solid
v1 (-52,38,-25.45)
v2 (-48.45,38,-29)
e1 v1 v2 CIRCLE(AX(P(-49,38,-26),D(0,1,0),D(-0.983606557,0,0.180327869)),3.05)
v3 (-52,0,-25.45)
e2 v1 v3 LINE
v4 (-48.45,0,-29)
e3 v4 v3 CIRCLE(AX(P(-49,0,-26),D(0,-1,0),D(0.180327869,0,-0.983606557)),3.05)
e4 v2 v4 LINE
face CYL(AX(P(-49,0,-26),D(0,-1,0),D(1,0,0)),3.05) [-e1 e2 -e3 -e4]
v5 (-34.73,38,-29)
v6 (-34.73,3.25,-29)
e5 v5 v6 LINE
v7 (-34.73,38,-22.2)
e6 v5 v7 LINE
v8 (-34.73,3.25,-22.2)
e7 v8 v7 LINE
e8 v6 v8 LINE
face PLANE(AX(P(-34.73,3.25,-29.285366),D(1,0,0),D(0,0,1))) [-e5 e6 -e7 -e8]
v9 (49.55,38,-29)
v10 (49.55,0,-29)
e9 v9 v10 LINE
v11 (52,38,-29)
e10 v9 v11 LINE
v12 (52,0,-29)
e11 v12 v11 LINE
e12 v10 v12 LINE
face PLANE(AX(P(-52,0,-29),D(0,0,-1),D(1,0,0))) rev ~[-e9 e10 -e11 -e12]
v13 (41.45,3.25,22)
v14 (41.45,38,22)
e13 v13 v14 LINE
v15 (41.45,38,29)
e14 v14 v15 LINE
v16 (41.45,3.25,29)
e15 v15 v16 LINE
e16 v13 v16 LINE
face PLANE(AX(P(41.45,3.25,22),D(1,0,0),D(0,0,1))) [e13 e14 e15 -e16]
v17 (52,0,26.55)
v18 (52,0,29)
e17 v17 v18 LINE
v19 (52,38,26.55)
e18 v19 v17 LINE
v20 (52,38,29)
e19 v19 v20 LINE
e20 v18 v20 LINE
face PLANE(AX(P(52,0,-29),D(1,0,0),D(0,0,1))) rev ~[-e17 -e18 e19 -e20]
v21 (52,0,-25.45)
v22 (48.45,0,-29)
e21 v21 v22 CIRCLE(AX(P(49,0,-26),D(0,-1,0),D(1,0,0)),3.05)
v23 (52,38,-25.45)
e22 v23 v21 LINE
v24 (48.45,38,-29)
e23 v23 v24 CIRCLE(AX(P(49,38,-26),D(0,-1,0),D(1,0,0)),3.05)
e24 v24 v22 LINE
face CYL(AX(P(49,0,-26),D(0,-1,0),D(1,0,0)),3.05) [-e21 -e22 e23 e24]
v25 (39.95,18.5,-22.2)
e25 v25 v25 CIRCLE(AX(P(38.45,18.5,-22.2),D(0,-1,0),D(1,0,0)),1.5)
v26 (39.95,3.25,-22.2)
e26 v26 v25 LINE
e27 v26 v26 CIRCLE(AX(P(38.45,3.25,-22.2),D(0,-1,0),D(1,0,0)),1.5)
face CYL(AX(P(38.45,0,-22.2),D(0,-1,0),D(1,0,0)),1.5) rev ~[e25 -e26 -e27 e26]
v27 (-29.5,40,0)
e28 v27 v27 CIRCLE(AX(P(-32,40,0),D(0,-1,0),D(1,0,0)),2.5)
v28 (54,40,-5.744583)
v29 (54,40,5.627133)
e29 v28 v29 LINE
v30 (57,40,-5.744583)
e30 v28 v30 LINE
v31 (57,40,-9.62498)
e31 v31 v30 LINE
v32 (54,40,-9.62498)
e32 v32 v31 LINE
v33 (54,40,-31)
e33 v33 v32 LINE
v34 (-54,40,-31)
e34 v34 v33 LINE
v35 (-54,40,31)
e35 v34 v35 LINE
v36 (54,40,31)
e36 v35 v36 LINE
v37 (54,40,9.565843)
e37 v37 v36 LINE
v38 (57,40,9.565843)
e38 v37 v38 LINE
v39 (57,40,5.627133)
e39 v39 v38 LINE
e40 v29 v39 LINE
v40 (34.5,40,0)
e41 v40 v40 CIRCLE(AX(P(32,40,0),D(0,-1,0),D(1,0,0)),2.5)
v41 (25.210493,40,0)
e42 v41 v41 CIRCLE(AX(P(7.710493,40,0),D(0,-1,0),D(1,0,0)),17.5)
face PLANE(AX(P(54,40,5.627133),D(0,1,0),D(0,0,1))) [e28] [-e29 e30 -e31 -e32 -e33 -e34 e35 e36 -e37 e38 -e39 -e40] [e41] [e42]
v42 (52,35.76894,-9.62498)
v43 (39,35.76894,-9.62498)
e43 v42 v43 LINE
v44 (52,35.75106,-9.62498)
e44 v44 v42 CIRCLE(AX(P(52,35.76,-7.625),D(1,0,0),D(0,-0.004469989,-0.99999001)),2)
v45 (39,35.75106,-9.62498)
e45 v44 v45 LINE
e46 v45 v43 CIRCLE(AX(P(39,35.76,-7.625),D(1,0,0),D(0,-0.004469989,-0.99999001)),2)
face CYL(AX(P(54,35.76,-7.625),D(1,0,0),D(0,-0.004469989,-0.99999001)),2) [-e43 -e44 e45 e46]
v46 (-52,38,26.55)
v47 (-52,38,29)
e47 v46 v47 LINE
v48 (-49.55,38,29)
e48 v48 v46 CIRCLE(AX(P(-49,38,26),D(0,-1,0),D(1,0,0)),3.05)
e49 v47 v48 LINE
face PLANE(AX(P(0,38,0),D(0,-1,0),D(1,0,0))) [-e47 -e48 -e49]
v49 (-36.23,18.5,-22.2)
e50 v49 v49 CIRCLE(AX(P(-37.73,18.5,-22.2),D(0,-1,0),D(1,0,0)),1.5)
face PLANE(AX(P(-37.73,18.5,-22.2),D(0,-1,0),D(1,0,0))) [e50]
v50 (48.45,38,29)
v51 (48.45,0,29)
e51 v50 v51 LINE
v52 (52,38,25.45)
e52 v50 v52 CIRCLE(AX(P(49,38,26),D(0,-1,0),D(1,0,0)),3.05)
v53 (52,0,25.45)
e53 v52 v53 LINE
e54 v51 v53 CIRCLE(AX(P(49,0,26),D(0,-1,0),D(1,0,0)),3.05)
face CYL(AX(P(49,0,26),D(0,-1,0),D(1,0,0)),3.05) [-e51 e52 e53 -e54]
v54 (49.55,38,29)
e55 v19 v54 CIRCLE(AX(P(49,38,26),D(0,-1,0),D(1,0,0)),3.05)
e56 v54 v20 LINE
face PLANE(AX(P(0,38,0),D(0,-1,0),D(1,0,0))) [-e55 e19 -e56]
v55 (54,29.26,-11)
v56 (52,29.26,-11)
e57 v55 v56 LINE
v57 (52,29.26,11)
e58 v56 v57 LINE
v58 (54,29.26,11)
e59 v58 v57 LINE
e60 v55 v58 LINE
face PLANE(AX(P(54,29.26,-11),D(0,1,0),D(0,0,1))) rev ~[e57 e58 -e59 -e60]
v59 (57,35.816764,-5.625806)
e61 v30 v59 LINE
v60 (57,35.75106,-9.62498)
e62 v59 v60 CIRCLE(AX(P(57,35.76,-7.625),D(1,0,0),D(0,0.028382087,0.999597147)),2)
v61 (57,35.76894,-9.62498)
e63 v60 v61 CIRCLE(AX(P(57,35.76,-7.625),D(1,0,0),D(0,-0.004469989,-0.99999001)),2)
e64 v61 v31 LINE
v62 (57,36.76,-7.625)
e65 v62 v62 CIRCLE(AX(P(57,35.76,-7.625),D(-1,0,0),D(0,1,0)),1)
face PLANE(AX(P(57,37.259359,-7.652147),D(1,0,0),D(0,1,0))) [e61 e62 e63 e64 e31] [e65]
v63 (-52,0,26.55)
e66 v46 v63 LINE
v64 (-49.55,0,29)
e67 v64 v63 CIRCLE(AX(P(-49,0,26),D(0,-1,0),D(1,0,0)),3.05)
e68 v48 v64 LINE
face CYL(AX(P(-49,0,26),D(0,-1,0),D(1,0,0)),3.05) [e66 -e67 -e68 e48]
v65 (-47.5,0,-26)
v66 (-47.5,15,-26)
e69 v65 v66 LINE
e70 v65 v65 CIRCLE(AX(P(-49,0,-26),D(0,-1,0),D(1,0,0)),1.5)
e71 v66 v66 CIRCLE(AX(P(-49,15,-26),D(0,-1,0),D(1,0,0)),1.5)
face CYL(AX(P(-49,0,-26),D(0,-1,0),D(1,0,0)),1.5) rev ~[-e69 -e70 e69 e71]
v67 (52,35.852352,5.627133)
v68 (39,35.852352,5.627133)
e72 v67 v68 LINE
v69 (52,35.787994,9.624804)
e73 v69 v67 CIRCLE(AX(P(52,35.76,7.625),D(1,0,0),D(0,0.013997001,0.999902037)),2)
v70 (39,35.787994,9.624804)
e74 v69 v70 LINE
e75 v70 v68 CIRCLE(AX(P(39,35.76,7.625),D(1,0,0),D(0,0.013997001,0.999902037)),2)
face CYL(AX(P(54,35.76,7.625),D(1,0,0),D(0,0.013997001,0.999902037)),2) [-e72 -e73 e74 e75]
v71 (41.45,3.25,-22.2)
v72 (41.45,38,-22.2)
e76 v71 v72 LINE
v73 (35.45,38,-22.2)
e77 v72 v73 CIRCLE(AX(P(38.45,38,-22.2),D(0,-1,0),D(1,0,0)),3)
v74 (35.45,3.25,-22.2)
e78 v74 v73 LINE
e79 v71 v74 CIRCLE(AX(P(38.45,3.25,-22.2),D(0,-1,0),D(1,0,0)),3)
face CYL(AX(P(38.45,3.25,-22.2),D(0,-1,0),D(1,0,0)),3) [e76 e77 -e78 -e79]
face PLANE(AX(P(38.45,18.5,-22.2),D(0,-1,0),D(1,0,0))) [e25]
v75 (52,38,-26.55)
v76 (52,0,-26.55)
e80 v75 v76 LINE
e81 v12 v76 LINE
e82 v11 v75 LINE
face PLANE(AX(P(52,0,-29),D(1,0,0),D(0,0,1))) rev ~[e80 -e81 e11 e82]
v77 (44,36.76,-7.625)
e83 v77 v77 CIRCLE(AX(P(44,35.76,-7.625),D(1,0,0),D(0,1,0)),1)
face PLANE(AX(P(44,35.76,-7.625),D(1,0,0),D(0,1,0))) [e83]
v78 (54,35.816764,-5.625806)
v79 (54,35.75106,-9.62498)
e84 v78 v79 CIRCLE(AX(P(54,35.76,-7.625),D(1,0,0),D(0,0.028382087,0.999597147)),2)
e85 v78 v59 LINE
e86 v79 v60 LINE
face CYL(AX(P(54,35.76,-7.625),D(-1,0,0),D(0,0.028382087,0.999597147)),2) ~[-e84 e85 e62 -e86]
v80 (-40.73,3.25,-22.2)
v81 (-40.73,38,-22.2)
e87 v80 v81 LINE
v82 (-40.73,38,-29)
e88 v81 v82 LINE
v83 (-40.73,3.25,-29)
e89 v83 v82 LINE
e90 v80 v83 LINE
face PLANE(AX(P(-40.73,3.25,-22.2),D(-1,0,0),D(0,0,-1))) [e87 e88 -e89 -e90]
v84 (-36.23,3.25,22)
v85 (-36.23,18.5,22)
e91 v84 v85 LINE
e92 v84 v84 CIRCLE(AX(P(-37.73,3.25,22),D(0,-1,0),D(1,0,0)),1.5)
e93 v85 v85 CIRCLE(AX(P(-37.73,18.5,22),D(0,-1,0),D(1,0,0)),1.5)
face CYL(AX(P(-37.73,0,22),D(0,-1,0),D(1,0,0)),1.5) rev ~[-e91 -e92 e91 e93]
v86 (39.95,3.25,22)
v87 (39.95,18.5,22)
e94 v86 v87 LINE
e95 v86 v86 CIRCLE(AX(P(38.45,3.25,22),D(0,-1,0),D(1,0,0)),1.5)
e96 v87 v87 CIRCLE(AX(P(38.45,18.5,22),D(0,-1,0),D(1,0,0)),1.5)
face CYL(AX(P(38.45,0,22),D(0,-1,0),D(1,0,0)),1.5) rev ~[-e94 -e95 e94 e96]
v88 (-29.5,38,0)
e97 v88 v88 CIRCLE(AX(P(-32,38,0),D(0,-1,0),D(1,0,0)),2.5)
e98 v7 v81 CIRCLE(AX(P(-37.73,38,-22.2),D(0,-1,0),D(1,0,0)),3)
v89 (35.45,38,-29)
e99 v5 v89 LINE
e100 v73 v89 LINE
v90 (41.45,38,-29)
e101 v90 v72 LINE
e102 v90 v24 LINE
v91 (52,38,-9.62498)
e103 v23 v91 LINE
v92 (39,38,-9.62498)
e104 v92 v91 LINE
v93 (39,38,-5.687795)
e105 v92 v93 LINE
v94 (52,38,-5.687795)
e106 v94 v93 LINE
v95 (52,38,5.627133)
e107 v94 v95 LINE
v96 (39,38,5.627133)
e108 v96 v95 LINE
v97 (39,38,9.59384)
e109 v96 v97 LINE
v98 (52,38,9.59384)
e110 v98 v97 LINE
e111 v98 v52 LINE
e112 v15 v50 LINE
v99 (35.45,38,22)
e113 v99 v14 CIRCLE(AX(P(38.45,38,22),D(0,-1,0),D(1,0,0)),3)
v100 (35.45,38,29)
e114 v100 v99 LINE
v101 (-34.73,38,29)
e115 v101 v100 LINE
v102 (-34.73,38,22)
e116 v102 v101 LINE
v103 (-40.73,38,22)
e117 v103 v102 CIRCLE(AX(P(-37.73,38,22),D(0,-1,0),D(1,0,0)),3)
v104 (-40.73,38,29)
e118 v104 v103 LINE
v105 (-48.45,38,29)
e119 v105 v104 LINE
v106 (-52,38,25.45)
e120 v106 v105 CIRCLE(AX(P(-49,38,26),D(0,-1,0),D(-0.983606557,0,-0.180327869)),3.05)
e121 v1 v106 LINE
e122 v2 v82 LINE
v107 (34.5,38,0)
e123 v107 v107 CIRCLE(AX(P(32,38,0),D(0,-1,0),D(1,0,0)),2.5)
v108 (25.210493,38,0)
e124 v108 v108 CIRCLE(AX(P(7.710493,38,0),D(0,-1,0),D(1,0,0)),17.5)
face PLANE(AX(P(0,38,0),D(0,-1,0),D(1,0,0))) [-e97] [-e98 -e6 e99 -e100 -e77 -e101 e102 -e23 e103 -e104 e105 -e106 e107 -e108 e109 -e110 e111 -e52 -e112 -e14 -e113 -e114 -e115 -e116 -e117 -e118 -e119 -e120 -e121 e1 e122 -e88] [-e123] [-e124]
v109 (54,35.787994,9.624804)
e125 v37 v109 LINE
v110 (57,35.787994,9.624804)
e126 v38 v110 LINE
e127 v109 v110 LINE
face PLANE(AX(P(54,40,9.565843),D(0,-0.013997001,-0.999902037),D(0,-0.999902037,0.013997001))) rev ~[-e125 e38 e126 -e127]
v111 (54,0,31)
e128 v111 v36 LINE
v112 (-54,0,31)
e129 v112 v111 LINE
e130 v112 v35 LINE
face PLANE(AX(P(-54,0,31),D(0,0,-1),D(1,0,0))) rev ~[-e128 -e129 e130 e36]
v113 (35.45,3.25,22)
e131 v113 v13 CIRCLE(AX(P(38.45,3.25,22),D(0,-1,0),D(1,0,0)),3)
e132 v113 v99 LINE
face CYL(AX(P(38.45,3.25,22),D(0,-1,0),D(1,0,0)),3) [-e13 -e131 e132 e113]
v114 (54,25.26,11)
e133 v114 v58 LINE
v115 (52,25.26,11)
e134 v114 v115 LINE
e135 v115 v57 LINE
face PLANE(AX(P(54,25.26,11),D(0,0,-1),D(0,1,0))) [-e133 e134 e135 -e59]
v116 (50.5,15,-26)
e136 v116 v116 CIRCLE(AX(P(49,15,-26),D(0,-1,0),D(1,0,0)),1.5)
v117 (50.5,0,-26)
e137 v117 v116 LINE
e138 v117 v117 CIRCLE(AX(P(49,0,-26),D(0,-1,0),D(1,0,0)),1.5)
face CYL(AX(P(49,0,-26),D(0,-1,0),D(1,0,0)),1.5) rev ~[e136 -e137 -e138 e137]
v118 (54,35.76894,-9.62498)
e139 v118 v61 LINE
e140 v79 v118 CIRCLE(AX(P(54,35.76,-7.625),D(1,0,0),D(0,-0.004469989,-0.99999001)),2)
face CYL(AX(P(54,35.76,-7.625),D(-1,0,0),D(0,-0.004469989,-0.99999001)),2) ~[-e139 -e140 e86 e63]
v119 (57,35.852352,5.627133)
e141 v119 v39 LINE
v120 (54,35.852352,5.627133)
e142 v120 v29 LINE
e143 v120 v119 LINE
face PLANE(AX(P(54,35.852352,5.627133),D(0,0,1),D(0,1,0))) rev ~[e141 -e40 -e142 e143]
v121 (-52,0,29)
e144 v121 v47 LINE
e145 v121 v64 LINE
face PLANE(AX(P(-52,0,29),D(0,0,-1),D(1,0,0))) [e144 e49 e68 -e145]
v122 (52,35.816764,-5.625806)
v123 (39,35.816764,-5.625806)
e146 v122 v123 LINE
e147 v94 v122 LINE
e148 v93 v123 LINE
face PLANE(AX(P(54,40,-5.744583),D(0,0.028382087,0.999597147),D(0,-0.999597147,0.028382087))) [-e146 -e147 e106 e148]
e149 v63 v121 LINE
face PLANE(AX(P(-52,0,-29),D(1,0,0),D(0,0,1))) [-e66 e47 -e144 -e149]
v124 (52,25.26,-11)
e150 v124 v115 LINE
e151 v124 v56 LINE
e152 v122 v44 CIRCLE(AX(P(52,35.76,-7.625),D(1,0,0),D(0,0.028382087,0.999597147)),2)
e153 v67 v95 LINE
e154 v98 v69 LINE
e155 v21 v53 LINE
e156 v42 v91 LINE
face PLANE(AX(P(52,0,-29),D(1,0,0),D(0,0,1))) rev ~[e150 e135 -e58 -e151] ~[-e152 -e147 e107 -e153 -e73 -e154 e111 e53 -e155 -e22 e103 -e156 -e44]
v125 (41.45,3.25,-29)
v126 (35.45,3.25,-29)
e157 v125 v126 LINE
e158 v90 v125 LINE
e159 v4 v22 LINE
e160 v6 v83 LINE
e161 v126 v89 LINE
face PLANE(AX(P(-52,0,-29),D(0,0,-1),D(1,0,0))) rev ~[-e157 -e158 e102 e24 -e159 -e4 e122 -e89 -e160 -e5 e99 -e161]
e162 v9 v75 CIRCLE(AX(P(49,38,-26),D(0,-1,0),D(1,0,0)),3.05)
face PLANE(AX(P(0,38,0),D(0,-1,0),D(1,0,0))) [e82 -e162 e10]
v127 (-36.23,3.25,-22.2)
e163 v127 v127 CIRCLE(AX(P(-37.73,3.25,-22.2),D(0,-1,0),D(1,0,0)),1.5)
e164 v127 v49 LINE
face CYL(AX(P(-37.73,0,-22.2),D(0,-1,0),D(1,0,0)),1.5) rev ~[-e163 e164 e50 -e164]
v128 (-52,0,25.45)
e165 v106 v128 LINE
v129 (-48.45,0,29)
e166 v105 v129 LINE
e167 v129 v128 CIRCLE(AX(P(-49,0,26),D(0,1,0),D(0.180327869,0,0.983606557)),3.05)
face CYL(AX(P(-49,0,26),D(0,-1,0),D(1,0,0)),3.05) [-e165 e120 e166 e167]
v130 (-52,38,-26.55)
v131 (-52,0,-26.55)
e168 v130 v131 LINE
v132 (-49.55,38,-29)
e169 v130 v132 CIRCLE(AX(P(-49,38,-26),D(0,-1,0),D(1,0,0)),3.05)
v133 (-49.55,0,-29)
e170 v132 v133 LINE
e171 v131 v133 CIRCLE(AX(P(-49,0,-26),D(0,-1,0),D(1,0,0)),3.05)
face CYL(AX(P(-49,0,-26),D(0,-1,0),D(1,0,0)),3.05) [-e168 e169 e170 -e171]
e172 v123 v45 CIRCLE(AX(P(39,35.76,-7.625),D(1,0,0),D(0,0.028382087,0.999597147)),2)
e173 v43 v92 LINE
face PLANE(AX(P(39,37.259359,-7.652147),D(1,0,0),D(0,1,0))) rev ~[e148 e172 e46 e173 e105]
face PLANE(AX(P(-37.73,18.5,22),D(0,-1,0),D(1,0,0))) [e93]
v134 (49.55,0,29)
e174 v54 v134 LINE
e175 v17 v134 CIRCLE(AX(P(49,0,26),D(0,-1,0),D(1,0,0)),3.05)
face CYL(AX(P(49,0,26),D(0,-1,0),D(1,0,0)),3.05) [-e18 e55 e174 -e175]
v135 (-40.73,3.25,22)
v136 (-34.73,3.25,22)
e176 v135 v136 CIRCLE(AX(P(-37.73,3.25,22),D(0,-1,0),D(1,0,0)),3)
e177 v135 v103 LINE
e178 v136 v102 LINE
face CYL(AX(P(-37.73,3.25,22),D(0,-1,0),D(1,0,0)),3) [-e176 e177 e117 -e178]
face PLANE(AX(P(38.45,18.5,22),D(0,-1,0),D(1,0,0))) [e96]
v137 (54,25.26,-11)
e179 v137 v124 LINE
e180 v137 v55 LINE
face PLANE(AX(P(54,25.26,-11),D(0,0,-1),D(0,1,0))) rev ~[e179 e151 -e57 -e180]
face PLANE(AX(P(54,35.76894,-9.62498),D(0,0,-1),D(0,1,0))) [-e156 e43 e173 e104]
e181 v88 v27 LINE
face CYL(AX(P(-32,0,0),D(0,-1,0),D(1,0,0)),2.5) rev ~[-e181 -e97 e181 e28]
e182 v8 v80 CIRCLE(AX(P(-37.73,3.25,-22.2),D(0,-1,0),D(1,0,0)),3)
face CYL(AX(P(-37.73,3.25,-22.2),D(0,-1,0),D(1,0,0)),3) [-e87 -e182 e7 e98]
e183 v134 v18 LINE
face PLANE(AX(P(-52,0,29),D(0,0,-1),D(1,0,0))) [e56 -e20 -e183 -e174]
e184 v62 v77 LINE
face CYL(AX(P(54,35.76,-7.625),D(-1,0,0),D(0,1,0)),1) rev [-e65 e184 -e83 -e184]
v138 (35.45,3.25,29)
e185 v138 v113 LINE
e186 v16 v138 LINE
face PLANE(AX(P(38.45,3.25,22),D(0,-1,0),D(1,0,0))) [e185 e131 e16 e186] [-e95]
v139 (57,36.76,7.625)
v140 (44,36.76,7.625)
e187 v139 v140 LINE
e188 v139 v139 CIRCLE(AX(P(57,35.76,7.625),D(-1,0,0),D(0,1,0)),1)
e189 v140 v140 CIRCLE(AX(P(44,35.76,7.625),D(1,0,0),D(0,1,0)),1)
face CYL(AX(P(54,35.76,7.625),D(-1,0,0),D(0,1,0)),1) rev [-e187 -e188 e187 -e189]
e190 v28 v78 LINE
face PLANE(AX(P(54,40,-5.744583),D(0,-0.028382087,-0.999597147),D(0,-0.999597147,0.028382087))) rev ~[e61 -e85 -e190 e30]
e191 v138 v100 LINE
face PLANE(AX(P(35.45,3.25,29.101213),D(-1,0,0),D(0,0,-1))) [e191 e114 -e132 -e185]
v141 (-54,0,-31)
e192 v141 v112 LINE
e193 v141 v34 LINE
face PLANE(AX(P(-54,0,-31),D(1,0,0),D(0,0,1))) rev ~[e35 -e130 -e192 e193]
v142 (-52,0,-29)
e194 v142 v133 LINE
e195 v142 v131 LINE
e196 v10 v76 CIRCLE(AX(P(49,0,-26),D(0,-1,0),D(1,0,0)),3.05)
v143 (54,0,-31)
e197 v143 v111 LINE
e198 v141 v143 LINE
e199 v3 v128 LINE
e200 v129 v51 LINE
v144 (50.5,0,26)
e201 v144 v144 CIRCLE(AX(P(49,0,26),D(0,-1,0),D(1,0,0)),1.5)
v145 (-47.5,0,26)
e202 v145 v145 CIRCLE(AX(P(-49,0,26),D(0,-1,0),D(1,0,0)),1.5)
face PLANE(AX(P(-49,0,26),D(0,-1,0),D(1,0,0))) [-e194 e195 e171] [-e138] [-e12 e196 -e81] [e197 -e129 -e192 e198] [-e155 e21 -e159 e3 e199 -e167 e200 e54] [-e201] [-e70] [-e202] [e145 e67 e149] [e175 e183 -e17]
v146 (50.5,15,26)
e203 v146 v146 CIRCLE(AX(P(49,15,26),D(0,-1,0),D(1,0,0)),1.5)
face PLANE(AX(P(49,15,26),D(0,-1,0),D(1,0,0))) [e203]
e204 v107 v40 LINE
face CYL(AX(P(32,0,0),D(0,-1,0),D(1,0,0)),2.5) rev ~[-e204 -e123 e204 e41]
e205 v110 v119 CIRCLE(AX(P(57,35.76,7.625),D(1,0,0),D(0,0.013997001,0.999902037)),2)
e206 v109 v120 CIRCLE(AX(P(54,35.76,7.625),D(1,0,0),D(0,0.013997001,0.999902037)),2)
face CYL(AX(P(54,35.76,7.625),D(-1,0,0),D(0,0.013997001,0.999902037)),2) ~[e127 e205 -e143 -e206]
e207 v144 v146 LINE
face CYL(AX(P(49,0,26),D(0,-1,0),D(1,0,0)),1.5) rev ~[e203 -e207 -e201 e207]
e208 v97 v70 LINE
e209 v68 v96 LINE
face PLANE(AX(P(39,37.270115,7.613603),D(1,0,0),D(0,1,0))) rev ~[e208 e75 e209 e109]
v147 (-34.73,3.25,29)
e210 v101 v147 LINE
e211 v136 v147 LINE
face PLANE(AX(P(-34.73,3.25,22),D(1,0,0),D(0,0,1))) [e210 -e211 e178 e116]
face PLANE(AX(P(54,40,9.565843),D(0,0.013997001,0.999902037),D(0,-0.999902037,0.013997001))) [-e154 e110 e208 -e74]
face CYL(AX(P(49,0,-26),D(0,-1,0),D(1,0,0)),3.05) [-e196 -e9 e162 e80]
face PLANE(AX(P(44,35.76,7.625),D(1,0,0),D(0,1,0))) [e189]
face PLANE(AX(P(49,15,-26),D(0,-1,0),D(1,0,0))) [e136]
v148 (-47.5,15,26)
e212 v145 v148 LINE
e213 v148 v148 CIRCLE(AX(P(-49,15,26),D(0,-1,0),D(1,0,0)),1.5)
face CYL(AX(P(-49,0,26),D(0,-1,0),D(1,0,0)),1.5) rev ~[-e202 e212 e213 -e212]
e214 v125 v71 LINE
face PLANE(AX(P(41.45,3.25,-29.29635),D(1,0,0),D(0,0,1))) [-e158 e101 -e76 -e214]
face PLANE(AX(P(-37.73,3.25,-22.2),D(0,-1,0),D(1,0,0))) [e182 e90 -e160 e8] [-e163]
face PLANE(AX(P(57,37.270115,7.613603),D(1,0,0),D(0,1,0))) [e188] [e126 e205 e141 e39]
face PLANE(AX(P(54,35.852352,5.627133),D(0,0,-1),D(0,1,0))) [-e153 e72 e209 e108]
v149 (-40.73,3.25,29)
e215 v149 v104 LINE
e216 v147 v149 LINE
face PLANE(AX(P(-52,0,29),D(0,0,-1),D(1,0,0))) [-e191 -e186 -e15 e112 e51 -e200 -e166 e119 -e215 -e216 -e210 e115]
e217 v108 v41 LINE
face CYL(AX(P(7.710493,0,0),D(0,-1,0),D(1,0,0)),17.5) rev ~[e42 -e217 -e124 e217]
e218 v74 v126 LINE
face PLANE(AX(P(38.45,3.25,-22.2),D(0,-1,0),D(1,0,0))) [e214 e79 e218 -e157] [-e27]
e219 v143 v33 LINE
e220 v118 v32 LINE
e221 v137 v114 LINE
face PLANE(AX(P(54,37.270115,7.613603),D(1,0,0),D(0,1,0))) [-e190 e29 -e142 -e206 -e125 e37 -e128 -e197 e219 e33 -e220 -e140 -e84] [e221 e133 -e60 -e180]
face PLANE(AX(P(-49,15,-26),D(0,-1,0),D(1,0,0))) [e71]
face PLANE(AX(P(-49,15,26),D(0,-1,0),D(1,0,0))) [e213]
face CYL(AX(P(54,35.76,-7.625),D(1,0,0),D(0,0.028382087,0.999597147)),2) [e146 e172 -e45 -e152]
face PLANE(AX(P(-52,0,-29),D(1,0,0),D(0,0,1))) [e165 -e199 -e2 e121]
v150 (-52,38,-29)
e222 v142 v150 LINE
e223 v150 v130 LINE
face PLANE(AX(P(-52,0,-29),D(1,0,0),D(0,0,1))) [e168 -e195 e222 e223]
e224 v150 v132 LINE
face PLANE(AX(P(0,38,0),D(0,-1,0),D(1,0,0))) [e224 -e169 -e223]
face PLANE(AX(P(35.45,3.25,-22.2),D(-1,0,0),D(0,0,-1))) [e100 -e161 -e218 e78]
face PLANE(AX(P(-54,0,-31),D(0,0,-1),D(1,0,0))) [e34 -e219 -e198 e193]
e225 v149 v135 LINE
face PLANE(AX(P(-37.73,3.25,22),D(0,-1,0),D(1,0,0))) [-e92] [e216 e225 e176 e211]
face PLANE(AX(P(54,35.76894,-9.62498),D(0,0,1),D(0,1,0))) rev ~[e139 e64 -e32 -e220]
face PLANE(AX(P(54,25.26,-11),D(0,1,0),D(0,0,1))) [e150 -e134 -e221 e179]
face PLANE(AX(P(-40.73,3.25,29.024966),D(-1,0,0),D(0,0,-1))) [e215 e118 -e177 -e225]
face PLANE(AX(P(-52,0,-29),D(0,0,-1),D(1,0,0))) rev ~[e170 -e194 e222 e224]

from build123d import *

# Parameters (mm, degrees)
F0_W           = 108
F0_H           = 62
F1_DEPTH       = 40
F2_W           = 104
F2_H           = 58
F3_DEPTH       = 38
F5_START       = -3.25
F5_DEPTH       = 34.75
F6_R           = 3.05
F7_DEPTH       = 38
F8_R           = 1.5
F9_DEPTH       = 15
F10_R          = 1.5
F11_DEPTH      = 18.5
F12_R          = 17.5
F12_R_2        = 2.5
F13_DEPTH      = 40.001
F16_DEPTH      = 15
F16_DEPTH_BACK = 3
F17_W          = 4
F17_H          = 22
F18_DEPTH      = 2
F19_R          = 1
F20_DEPTH      = 10
F20_DEPTH_BACK = 5


with BuildPart() as f1:
    # F0 (on Front) → F1 (new body)
    with BuildSketch(Plane.XZ):
        Rectangle(F0_W, F0_H)
    extrude(amount=-F1_DEPTH)

    # F2 (on Front) → F3 (cut)
    with BuildSketch(Plane.XZ):
        Rectangle(F2_W, F2_H)
    extrude(amount=-F3_DEPTH, mode=Mode.SUBTRACT)

    # F4 (on Front) → F5 (join)
    with BuildSketch(Plane.XZ.offset(F5_START)):
        with BuildLine():
            ThreePointArc((-40.73, 22), (-37.73, 19), (-34.73, 22))
            ThreePointArc((-34.73, 22), (-37.73, 25), (-40.73, 22))
        make_face()
        with BuildLine():
            ThreePointArc((-40.73, 22), (-37.73, 25), (-34.73, 22))
            Line((-34.73, 22), (-34.73, 29.0249657466))
            Line((-34.73, 29.0249657466), (-40.73, 29.0249657466))
            Line((-40.73, 29.0249657466), (-40.73, 22))
        make_face()
        with BuildLine():
            ThreePointArc((35.45, 22), (38.45, 19), (41.45, 22))
            ThreePointArc((41.45, 22), (38.45, 25), (35.45, 22))
        make_face()
        with BuildLine():
            ThreePointArc((35.45, 22), (38.45, 25), (41.45, 22))
            Line((41.45, 22), (41.45, 29.0909428149))
            Line((41.45, 29.0909428149), (35.45, 29.1012134403))
            Line((35.45, 29.1012134403), (35.45, 22))
        make_face()
        with BuildLine():
            ThreePointArc((-40.73, -22.2), (-37.73, -25.2), (-34.73, -22.2))
            ThreePointArc((-34.73, -22.2), (-37.73, -19.2), (-40.73, -22.2))
        make_face()
        with BuildLine():
            Line((-34.73, -29.2853660554), (-34.73, -22.2))
            ThreePointArc((-34.73, -22.2), (-37.73, -25.2), (-40.73, -22.2))
            Line((-40.73, -22.2), (-40.73, -29.2745608509))
            Line((-40.73, -29.2745608509), (-34.73, -29.2853660554))
        make_face()
        with BuildLine():
            ThreePointArc((35.45, -22.2), (38.45, -25.2), (41.45, -22.2))
            ThreePointArc((41.45, -22.2), (38.45, -19.2), (35.45, -22.2))
        make_face()
        with BuildLine():
            Line((41.45, -29.2963500738), (41.45, -22.2))
            ThreePointArc((41.45, -22.2), (38.45, -25.2), (35.45, -22.2))
            Line((35.45, -22.2), (35.45, -29.2963500738))
            Line((35.45, -29.2963500738), (41.45, -29.2963500738))
        make_face()
    extrude(amount=-F5_DEPTH)

    # F6 (on Front) → F7 (join, through all)
    with BuildSketch(Plane.XZ):
        with Locations((-49, 26)):
            Circle(F6_R)
        with Locations((49, 26)):
            Circle(F6_R)
        with Locations((49, -26)):
            Circle(F6_R)
        with Locations((-49, -26)):
            Circle(F6_R)
    extrude(amount=-F7_DEPTH)

    # F8 (on Front) → F9 (cut)
    with BuildSketch(Plane.XZ):
        with Locations((-49, 26)):
            Circle(F8_R)
        with Locations((-49, -26)):
            Circle(F8_R)
        with Locations((49, -26)):
            Circle(F8_R)
        with Locations((49, 26)):
            Circle(F8_R)
    extrude(amount=-F9_DEPTH, mode=Mode.SUBTRACT)

    # F10 (on Front) → F11 (cut)
    with BuildSketch(Plane.XZ):
        with Locations((-37.73, 22)):
            Circle(F10_R)
        with Locations((-37.73, -22.2)):
            Circle(F10_R)
        with Locations((38.45, 22)):
            Circle(F10_R)
        with Locations((38.45, -22.2)):
            Circle(F10_R)
    extrude(amount=-F11_DEPTH, mode=Mode.SUBTRACT)

    # F12 (on Front) → F13 (cut, through all)
    with BuildSketch(Plane.XZ):
        with Locations((7.7104928971, 0)):
            Circle(F12_R)
        with Locations((-32, 0)):
            Circle(F12_R_2)
        with Locations((32, 0)):
            Circle(F12_R_2)
    extrude(amount=-F13_DEPTH, mode=Mode.SUBTRACT)

    # F15 (on offset) → F16 (join, two sides)
    with BuildSketch(Plane.YZ.offset(54)) as f16_sk:
        with BuildLine():
            Line((40, 9.5658428478), (35.7879940012, 9.6248040744))
            ThreePointArc((35.7879940012, 9.6248040744), (33.7602591267, 7.5928062172), (35.8523524108, 5.6271333798))
            Line((35.8523524108, 5.6271333798), (40, 5.6271333798))
            Line((40, 5.6271333798), (40, 9.5658428478))
        make_face()
        with BuildLine():
            Line((40, -5.7445825184), (35.8167641743, -5.6258057052))
            ThreePointArc((35.8167641743, -5.6258057052), (33.7602698715, -7.5921455752), (35.7510600226, -9.6249800191))
            ThreePointArc((35.7510600226, -9.6249800191), (35.76, -9.625), (35.7689399774, -9.6249800191))
            Line((35.7689399774, -9.6249800191), (40, -9.6249800191))
            Line((40, -9.6249800191), (40, -5.7445825184))
        make_face()
    extrude(amount=-F16_DEPTH)
    extrude(f16_sk.sketch, amount=F16_DEPTH_BACK)

    # F17 (on offset) → F18 (cut, through all)
    with BuildSketch(Plane.YZ.offset(54)):
        with Locations((27.26, 0)):
            Rectangle(F17_W, F17_H)
    extrude(amount=-F18_DEPTH, mode=Mode.SUBTRACT)

    # F19 (on offset) → F20 (cut, two sides)
    with BuildSketch(Plane.YZ.offset(54)) as f20_sk:
        with Locations((35.76, 7.625)):
            Circle(F19_R)
        with Locations((35.76, -7.625)):
            Circle(F19_R)
    extrude(amount=-F20_DEPTH, mode=Mode.SUBTRACT)
    extrude(f20_sk.sketch, amount=F20_DEPTH_BACK, mode=Mode.SUBTRACT)


solid = f1.part
